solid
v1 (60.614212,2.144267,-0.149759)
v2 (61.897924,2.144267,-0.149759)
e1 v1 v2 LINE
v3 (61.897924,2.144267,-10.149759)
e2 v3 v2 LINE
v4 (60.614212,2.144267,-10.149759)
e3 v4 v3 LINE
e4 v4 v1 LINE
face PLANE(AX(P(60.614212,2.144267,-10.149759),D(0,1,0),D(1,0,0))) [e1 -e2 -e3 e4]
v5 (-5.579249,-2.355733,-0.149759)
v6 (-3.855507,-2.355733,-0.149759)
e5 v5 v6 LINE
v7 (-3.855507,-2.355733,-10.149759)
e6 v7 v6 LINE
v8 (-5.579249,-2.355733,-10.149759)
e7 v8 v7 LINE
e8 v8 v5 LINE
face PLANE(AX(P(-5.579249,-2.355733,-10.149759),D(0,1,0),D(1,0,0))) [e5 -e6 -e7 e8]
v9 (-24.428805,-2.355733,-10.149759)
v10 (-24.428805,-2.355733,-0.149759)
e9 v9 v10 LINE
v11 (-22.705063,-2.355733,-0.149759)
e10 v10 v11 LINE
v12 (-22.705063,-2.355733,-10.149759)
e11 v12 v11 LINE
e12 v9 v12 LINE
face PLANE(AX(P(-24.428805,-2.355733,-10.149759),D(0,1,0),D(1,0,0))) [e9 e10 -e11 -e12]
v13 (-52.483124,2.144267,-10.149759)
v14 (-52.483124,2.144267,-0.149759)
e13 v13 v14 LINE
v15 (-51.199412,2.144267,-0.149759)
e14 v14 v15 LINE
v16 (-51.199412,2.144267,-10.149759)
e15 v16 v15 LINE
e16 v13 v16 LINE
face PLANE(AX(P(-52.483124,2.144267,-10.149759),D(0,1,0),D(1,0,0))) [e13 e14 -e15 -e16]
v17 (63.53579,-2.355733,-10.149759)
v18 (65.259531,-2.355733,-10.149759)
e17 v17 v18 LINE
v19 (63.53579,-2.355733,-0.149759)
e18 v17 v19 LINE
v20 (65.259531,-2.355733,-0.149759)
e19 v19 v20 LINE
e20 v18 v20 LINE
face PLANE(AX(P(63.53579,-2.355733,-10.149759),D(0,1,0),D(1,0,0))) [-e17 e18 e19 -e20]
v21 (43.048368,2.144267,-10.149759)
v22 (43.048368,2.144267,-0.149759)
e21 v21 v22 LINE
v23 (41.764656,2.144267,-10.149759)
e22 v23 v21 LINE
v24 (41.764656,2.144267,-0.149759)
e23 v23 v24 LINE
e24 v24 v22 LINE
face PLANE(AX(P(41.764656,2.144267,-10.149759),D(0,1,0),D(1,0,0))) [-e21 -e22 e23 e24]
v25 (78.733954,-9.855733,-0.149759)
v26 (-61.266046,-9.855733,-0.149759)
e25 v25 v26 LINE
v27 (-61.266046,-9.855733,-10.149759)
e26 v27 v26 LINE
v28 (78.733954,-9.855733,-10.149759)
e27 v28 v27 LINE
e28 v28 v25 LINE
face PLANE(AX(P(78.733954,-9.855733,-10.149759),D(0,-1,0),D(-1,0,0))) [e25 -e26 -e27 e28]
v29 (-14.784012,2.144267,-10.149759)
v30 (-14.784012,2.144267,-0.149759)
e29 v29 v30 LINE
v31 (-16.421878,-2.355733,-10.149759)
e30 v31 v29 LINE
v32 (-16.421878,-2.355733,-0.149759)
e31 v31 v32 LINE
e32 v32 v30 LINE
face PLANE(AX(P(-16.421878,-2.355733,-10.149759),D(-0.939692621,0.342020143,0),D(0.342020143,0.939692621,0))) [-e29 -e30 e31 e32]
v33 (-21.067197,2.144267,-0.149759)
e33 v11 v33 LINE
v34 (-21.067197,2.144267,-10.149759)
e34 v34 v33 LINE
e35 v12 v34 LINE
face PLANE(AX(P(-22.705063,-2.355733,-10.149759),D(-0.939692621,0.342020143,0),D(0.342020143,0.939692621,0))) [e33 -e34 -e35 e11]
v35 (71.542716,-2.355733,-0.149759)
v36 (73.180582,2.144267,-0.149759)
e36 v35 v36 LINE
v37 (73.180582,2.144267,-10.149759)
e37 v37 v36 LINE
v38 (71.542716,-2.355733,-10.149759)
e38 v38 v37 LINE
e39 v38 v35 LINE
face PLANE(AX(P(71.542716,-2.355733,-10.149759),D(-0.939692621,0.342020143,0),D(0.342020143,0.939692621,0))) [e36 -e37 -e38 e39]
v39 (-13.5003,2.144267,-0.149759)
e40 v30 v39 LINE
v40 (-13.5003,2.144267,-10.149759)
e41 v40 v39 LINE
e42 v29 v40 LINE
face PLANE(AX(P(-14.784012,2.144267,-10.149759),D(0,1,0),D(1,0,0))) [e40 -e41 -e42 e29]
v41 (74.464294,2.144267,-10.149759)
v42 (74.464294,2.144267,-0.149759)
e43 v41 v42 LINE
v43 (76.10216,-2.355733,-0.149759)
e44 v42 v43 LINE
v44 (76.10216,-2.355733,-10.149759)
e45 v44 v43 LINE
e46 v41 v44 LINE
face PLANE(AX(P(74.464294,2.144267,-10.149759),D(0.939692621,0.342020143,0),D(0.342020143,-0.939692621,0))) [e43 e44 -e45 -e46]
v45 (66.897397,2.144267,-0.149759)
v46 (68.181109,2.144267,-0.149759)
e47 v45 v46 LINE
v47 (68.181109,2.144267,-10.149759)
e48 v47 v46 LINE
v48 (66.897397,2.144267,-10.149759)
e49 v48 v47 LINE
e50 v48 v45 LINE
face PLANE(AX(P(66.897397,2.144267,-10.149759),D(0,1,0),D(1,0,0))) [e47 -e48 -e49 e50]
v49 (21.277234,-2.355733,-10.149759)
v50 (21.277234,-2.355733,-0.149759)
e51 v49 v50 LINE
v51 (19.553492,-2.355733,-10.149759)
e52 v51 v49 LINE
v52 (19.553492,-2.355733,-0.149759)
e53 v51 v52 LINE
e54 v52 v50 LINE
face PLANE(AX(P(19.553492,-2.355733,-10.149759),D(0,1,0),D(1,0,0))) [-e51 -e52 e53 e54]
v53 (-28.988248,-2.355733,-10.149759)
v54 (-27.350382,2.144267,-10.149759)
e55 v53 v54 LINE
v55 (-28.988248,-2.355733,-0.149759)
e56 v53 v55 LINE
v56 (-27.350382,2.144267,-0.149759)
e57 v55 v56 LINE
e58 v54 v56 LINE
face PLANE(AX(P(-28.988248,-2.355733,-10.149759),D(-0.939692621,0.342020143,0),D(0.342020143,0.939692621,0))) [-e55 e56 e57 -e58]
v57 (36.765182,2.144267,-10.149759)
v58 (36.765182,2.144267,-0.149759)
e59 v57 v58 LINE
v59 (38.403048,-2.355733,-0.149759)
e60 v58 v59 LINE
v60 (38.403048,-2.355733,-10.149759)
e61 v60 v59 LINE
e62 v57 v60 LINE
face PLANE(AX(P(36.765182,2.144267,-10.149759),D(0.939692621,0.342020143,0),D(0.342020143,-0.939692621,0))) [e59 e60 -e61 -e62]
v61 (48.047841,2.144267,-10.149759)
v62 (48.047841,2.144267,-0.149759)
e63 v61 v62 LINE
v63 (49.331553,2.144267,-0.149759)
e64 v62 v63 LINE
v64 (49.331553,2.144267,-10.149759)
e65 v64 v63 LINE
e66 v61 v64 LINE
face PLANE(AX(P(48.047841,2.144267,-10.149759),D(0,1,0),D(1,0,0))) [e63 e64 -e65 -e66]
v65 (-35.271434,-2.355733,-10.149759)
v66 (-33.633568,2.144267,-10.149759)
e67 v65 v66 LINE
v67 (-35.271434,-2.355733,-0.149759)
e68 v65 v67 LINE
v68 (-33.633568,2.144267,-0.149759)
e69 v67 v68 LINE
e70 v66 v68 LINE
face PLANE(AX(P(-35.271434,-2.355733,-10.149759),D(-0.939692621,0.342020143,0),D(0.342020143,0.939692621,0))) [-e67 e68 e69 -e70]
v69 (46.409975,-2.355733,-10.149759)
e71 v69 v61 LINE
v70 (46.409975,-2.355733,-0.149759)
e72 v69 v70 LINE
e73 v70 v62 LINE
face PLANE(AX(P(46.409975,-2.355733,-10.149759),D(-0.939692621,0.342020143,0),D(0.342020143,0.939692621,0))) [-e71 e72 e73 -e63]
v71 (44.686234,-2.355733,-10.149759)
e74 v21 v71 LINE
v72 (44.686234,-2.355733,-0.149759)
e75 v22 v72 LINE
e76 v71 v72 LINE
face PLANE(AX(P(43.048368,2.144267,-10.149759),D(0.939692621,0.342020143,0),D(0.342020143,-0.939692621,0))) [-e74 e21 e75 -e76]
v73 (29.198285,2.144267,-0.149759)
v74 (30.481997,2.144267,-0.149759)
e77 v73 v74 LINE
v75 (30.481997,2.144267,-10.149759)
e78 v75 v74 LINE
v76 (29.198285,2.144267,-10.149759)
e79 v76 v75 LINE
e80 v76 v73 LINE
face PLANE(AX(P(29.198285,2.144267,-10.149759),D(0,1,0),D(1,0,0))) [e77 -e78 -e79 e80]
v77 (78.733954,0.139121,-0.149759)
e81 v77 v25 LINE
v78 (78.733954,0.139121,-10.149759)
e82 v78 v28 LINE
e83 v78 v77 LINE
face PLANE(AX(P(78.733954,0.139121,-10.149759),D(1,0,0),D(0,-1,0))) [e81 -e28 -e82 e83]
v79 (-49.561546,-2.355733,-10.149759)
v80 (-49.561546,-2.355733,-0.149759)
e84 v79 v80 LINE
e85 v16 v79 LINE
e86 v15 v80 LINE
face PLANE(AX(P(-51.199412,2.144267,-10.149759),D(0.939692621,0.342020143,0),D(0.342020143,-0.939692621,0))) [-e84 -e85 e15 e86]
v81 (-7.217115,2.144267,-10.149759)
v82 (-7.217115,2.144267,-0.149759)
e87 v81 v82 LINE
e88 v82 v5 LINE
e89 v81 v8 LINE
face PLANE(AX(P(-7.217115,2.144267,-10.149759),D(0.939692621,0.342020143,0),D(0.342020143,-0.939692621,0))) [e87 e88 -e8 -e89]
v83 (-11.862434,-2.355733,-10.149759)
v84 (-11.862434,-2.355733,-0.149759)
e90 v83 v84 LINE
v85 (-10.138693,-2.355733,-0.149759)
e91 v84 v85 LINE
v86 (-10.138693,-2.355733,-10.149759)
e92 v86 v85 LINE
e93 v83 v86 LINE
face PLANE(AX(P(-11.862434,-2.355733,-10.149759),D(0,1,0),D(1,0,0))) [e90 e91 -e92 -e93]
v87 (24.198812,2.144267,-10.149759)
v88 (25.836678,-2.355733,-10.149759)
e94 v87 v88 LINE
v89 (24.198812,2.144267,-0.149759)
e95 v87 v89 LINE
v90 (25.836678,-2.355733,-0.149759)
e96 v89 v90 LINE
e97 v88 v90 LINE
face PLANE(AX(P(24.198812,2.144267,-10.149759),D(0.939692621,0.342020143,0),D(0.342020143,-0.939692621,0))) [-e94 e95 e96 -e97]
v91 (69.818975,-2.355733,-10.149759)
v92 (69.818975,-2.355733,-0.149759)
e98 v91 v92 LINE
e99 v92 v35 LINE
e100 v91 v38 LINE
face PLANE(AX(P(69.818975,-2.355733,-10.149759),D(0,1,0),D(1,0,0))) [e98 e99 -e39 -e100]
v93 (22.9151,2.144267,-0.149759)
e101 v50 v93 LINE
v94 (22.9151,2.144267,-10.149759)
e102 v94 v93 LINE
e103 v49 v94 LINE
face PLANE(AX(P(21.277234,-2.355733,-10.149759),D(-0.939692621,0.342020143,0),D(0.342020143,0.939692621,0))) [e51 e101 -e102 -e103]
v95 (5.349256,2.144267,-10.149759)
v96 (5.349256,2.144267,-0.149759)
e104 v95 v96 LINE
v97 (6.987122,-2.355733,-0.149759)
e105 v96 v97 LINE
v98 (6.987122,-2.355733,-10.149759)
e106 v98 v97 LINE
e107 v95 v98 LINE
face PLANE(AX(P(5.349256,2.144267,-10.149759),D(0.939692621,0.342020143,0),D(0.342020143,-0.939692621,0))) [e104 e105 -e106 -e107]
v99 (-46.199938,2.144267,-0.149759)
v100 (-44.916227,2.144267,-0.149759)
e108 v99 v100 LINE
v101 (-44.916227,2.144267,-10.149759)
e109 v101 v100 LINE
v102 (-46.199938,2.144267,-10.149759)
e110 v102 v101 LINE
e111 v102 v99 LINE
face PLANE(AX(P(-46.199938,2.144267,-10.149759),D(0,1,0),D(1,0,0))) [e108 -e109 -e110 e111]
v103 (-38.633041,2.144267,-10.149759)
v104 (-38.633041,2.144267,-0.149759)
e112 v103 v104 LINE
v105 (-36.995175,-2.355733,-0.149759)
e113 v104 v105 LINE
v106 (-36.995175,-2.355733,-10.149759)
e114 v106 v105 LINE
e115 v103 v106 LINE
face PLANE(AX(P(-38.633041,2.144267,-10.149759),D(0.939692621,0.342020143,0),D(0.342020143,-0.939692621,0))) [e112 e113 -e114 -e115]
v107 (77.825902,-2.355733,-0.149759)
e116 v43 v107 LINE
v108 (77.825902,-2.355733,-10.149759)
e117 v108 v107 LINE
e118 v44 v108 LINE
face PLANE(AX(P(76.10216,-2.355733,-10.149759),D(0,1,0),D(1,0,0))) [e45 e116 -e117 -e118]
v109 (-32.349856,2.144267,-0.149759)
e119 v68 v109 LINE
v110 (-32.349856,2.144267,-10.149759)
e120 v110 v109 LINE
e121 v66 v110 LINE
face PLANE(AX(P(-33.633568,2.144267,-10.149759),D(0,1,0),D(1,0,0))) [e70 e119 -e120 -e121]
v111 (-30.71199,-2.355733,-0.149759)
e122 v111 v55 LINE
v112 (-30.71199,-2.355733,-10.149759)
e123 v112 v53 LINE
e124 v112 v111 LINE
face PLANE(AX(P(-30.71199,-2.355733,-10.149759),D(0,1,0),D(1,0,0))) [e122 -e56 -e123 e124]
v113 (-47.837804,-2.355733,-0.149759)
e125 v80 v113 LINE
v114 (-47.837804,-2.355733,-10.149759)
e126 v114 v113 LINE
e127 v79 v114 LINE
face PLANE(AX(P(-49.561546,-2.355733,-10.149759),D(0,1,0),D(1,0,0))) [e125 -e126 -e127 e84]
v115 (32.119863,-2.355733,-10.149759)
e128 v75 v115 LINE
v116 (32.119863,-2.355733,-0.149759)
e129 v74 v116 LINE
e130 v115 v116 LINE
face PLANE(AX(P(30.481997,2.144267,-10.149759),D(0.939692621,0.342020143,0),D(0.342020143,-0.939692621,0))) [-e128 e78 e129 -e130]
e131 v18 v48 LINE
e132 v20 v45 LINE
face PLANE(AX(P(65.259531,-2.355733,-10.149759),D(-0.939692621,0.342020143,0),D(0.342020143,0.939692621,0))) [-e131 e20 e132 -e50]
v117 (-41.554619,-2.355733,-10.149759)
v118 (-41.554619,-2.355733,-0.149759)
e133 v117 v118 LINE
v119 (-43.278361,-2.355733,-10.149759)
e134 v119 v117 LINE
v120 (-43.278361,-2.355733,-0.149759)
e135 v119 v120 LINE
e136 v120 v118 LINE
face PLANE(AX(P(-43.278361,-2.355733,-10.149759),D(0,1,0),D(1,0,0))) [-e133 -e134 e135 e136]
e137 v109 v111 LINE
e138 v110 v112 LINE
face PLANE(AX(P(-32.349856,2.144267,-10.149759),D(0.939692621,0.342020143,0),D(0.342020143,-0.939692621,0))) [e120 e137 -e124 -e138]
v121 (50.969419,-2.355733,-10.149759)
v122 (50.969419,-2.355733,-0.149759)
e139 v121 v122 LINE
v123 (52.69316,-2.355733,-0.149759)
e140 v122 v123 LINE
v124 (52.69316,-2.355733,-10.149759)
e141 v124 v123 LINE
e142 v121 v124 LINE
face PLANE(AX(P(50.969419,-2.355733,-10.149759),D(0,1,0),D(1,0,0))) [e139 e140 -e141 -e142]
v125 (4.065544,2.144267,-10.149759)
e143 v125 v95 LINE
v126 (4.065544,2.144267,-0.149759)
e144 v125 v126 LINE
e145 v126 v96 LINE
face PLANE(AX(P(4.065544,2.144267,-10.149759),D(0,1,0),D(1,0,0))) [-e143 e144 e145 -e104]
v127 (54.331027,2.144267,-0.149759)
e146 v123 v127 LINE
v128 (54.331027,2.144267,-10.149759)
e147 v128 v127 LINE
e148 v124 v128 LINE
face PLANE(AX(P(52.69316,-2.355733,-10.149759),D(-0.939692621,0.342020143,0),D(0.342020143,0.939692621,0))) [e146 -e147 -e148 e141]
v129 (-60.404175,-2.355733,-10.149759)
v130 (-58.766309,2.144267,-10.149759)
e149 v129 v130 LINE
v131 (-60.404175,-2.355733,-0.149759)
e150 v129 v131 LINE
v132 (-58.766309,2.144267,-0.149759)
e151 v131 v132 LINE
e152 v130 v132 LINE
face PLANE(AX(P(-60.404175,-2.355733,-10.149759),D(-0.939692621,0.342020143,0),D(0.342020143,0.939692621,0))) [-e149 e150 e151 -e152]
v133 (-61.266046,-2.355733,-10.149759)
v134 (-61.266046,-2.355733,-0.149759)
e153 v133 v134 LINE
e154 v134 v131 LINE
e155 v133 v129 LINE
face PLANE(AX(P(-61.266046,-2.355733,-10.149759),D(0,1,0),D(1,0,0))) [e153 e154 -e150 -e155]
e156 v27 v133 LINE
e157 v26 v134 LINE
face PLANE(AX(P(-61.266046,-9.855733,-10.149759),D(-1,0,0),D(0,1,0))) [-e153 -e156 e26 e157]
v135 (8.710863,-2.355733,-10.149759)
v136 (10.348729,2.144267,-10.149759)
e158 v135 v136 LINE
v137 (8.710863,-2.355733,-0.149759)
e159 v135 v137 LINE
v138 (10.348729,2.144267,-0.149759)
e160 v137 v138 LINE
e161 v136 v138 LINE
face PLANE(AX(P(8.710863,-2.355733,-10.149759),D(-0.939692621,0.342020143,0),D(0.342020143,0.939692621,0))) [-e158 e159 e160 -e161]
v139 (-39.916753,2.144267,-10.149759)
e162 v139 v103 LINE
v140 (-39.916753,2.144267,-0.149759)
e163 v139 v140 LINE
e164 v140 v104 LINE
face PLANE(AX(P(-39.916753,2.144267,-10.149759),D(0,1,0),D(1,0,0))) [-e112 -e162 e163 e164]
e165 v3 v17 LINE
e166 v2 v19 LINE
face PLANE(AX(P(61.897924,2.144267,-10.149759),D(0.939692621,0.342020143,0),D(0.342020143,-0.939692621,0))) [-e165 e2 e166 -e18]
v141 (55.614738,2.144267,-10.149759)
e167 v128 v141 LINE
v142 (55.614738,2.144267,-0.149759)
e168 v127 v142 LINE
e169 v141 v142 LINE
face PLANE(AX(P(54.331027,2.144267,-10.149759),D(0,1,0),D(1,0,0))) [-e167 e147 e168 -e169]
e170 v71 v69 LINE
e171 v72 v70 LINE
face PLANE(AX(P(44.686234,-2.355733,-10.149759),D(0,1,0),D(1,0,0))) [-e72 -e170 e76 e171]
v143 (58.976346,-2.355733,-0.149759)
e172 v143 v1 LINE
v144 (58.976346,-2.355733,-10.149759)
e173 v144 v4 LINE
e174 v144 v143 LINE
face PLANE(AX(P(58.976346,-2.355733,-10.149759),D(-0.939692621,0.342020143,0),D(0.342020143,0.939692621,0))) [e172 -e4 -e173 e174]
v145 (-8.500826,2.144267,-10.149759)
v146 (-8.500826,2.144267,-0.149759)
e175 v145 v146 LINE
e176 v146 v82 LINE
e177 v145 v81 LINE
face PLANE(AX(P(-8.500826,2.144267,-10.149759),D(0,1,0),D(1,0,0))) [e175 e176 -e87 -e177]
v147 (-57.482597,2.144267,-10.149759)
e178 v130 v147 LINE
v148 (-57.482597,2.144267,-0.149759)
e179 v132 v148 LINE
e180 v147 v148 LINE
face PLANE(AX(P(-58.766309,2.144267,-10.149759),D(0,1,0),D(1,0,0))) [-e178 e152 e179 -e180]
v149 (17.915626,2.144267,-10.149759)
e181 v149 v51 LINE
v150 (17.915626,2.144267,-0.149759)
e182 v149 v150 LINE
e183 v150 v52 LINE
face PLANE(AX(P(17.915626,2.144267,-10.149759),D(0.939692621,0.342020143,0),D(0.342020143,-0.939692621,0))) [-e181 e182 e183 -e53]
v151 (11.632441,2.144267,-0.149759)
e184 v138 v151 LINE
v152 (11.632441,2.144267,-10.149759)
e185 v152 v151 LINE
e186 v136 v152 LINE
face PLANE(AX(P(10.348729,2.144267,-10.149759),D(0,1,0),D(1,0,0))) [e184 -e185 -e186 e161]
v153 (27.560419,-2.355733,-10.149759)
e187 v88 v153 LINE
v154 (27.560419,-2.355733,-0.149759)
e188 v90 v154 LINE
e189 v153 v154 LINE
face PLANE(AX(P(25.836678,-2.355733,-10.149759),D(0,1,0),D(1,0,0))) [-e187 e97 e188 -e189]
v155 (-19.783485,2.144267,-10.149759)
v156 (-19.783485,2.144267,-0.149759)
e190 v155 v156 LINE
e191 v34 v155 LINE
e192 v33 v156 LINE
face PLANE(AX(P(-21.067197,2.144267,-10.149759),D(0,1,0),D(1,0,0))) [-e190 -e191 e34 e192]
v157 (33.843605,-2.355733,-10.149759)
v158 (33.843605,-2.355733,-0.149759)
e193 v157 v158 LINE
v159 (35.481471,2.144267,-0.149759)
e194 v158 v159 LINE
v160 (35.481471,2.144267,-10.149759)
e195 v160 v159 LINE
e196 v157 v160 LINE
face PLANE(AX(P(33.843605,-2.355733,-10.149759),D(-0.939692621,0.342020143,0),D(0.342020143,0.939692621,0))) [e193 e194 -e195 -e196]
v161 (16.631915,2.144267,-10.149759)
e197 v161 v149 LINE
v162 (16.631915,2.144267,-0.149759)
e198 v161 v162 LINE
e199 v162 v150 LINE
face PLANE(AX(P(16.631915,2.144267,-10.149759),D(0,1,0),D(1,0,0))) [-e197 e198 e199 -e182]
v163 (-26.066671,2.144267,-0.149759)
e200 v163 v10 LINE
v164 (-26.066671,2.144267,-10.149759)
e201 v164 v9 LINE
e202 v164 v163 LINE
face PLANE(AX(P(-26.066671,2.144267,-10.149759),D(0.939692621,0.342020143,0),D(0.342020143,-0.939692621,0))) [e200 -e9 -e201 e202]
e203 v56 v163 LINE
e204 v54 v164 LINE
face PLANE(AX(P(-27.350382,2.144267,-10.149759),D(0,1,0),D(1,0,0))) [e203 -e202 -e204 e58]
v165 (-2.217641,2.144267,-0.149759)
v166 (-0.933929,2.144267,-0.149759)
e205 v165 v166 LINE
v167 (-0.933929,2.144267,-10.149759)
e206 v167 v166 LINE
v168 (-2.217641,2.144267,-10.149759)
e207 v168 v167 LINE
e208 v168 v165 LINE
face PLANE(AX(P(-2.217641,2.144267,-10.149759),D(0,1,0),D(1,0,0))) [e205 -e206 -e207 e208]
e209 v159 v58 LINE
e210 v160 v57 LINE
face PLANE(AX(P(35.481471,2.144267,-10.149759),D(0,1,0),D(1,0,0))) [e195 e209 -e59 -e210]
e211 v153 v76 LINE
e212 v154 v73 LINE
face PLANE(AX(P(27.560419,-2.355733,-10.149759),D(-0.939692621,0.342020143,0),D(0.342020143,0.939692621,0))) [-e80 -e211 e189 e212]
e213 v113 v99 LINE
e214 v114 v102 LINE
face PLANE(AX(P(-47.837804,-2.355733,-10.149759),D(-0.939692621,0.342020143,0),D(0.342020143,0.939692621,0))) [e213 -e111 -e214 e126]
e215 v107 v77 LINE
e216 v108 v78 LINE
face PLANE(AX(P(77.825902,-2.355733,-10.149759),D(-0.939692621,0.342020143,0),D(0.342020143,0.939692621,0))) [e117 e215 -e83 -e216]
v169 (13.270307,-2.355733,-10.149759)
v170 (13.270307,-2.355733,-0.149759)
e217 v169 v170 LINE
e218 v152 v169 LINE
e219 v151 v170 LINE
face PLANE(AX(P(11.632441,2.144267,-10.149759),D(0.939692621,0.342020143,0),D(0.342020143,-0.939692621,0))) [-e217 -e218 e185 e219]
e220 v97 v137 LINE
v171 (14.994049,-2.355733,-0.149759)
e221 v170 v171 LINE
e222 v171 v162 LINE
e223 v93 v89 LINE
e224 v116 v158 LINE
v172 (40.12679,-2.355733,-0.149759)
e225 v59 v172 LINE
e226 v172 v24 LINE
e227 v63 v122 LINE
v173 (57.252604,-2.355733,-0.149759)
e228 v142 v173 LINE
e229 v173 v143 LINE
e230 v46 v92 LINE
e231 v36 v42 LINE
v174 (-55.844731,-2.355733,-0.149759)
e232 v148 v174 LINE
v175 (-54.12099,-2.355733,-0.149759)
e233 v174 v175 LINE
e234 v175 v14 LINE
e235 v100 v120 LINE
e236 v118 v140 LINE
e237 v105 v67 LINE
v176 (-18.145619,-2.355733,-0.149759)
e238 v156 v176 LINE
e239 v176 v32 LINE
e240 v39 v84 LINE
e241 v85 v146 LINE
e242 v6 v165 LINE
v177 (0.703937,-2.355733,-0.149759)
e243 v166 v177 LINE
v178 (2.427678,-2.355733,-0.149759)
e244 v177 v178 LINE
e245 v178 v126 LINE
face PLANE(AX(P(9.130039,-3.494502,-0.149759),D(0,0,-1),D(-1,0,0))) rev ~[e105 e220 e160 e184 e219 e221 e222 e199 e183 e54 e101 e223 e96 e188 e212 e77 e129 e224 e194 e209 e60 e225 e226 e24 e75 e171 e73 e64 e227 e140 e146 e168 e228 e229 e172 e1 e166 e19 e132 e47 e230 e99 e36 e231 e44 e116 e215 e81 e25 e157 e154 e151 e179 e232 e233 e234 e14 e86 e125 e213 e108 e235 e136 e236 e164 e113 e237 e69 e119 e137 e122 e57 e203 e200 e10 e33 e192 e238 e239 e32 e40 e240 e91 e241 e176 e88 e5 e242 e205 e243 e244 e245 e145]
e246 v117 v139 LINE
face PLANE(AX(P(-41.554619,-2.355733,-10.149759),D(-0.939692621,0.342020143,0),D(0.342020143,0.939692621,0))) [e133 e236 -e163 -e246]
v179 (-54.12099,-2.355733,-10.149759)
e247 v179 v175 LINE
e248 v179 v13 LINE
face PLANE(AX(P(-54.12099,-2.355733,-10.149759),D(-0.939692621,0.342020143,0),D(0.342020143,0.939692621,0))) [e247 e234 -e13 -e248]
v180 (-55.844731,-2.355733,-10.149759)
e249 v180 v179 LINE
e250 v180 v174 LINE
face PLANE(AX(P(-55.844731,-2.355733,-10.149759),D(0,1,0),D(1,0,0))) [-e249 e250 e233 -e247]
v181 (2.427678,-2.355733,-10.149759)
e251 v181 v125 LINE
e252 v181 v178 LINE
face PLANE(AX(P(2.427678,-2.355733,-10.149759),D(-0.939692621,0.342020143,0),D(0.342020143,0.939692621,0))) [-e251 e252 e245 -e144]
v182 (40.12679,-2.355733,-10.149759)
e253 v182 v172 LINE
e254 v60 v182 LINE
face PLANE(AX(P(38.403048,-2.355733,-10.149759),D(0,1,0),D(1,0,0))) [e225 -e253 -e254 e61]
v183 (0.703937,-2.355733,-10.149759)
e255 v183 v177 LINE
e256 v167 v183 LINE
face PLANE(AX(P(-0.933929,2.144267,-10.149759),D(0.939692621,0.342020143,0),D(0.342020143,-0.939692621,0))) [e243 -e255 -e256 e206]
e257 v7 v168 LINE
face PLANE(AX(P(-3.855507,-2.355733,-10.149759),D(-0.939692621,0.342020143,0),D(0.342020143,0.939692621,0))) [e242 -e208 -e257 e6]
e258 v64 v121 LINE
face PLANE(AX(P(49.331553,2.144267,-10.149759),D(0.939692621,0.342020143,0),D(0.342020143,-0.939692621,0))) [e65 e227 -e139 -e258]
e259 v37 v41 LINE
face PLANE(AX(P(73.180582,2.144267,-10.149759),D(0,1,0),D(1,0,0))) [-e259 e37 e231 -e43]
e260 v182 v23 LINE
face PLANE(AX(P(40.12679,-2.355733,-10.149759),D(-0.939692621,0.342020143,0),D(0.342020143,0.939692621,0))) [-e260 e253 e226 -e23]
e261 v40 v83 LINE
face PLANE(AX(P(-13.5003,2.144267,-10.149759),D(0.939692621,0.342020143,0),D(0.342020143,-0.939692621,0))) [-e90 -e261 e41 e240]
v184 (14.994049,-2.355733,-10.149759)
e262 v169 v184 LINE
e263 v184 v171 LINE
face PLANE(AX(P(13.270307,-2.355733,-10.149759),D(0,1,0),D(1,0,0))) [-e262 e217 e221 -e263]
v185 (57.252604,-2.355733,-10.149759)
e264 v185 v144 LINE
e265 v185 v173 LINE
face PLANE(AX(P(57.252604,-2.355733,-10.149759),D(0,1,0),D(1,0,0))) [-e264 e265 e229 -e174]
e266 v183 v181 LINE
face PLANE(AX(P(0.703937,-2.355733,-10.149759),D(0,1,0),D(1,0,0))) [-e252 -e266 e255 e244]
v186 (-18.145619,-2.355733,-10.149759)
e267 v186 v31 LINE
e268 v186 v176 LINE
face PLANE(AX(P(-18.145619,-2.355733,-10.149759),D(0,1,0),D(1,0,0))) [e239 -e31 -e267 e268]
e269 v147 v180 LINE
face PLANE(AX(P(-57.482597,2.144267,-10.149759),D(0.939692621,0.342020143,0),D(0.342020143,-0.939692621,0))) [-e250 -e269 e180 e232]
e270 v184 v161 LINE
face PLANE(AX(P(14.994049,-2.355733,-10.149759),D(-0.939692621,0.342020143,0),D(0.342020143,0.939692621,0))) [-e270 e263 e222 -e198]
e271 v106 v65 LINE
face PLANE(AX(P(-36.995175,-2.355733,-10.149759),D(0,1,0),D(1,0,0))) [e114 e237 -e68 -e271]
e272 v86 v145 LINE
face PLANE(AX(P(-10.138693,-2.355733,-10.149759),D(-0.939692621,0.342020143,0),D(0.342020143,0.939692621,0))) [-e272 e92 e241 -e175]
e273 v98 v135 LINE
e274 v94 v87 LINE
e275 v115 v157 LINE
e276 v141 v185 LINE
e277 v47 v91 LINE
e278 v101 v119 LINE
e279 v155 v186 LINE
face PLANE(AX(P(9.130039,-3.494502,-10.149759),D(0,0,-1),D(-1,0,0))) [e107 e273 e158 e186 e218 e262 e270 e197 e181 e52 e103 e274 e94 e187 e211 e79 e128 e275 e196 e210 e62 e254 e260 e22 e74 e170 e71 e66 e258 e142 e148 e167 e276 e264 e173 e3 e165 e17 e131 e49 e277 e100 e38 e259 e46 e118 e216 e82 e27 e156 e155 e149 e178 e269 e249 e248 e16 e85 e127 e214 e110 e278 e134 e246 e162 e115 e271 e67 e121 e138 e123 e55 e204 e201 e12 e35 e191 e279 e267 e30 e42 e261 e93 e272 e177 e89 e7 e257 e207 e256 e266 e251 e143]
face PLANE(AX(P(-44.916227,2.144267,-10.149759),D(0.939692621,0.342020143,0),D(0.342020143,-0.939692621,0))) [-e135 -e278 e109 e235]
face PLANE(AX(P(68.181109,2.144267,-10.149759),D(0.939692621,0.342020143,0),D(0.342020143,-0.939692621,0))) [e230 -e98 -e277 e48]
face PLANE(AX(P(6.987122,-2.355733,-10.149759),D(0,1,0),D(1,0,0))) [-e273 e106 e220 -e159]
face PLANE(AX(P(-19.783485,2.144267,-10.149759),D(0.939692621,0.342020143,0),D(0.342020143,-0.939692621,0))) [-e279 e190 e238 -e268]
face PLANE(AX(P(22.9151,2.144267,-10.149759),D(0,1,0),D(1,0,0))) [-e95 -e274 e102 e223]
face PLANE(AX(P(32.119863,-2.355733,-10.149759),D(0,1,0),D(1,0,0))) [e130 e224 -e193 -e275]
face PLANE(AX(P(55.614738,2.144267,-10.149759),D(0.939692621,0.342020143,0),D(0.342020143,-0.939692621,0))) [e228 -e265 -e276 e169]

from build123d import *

# Parameters (mm, degrees)
BOSS_EXTRUDE1_DEPTH = 10


with BuildPart() as part:
    # Sketch1 → Boss-Extrude1 (new body)
    with BuildSketch(Plane(origin=(0, 0, -10.149759329), x_dir=(-1, 0, 0), z_dir=(0, 0, -1))):
        Polygon((-74.464294138, 2.144266729), (-76.102160192, -2.355733271), (-77.825901671, -2.355733271), (-78.733954331, 0.13912091), (-78.733954331, -9.855733271), (61.266045669, -9.855733271), (61.266045669, -2.355733271), (60.404174929, -2.355733271), (58.766308875, 2.144266729), (57.482597162, 2.144266729), (55.844731108, -2.355733271), (54.120989629, -2.355733271), (52.483123575, 2.144266729), (51.199411862, 2.144266729), (49.561545808, -2.355733271), (47.837804329, -2.355733271), (46.199938275, 2.144266729), (44.916226562, 2.144266729), (43.278360508, -2.355733271), (41.554619029, -2.355733271), (39.916752975, 2.144266729), (38.633041262, 2.144266729), (36.995175208, -2.355733271), (35.271433729, -2.355733271), (33.633567675, 2.144266729), (32.349855962, 2.144266729), (30.711989908, -2.355733271), (28.988248429, -2.355733271), (27.350382375, 2.144266729), (26.066670662, 2.144266729), (24.428804608, -2.355733271), (22.705063129, -2.355733271), (21.067197075, 2.144266729), (19.783485362, 2.144266729), (18.145619308, -2.355733271), (16.421877829, -2.355733271), (14.784011775, 2.144266729), (13.500300062, 2.144266729), (11.862434008, -2.355733271), (10.138692529, -2.355733271), (8.500826475, 2.144266729), (7.217114762, 2.144266729), (5.579248708, -2.355733271), (3.855507229, -2.355733271), (2.217641175, 2.144266729), (0.933929462, 2.144266729), (-0.703936592, -2.355733271), (-2.427678071, -2.355733271), (-4.065544125, 2.144266729), (-5.349255838, 2.144266729), (-6.987121892, -2.355733271), (-8.710863371, -2.355733271), (-10.348729425, 2.144266729), (-11.632441138, 2.144266729), (-13.270307192, -2.355733271), (-14.994048671, -2.355733271), (-16.631914725, 2.144266729), (-17.915626438, 2.144266729), (-19.553492492, -2.355733271), (-21.277233971, -2.355733271), (-22.915100025, 2.144266729), (-24.198811738, 2.144266729), (-25.836677792, -2.355733271), (-27.560419271, -2.355733271), (-29.198285325, 2.144266729), (-30.481997038, 2.144266729), (-32.119863092, -2.355733271), (-33.843604571, -2.355733271), (-35.481470625, 2.144266729), (-36.765182338, 2.144266729), (-38.403048392, -2.355733271), (-40.126789871, -2.355733271), (-41.764655925, 2.144266729), (-43.048367638, 2.144266729), (-44.686233692, -2.355733271), (-46.409975171, -2.355733271), (-48.047841225, 2.144266729), (-49.331552938, 2.144266729), (-50.969418992, -2.355733271), (-52.693160471, -2.355733271), (-54.331026525, 2.144266729), (-55.614738238, 2.144266729), (-57.252604292, -2.355733271), (-58.976345771, -2.355733271), (-60.614211825, 2.144266729), (-61.897923538, 2.144266729), (-63.535789592, -2.355733271), (-65.259531071, -2.355733271), (-66.897397125, 2.144266729), (-68.181108838, 2.144266729), (-69.818974892, -2.355733271), (-71.542716371, -2.355733271), (-73.180582425, 2.144266729), align=None)
    extrude(amount=-BOSS_EXTRUDE1_DEPTH)


solid = part.part
